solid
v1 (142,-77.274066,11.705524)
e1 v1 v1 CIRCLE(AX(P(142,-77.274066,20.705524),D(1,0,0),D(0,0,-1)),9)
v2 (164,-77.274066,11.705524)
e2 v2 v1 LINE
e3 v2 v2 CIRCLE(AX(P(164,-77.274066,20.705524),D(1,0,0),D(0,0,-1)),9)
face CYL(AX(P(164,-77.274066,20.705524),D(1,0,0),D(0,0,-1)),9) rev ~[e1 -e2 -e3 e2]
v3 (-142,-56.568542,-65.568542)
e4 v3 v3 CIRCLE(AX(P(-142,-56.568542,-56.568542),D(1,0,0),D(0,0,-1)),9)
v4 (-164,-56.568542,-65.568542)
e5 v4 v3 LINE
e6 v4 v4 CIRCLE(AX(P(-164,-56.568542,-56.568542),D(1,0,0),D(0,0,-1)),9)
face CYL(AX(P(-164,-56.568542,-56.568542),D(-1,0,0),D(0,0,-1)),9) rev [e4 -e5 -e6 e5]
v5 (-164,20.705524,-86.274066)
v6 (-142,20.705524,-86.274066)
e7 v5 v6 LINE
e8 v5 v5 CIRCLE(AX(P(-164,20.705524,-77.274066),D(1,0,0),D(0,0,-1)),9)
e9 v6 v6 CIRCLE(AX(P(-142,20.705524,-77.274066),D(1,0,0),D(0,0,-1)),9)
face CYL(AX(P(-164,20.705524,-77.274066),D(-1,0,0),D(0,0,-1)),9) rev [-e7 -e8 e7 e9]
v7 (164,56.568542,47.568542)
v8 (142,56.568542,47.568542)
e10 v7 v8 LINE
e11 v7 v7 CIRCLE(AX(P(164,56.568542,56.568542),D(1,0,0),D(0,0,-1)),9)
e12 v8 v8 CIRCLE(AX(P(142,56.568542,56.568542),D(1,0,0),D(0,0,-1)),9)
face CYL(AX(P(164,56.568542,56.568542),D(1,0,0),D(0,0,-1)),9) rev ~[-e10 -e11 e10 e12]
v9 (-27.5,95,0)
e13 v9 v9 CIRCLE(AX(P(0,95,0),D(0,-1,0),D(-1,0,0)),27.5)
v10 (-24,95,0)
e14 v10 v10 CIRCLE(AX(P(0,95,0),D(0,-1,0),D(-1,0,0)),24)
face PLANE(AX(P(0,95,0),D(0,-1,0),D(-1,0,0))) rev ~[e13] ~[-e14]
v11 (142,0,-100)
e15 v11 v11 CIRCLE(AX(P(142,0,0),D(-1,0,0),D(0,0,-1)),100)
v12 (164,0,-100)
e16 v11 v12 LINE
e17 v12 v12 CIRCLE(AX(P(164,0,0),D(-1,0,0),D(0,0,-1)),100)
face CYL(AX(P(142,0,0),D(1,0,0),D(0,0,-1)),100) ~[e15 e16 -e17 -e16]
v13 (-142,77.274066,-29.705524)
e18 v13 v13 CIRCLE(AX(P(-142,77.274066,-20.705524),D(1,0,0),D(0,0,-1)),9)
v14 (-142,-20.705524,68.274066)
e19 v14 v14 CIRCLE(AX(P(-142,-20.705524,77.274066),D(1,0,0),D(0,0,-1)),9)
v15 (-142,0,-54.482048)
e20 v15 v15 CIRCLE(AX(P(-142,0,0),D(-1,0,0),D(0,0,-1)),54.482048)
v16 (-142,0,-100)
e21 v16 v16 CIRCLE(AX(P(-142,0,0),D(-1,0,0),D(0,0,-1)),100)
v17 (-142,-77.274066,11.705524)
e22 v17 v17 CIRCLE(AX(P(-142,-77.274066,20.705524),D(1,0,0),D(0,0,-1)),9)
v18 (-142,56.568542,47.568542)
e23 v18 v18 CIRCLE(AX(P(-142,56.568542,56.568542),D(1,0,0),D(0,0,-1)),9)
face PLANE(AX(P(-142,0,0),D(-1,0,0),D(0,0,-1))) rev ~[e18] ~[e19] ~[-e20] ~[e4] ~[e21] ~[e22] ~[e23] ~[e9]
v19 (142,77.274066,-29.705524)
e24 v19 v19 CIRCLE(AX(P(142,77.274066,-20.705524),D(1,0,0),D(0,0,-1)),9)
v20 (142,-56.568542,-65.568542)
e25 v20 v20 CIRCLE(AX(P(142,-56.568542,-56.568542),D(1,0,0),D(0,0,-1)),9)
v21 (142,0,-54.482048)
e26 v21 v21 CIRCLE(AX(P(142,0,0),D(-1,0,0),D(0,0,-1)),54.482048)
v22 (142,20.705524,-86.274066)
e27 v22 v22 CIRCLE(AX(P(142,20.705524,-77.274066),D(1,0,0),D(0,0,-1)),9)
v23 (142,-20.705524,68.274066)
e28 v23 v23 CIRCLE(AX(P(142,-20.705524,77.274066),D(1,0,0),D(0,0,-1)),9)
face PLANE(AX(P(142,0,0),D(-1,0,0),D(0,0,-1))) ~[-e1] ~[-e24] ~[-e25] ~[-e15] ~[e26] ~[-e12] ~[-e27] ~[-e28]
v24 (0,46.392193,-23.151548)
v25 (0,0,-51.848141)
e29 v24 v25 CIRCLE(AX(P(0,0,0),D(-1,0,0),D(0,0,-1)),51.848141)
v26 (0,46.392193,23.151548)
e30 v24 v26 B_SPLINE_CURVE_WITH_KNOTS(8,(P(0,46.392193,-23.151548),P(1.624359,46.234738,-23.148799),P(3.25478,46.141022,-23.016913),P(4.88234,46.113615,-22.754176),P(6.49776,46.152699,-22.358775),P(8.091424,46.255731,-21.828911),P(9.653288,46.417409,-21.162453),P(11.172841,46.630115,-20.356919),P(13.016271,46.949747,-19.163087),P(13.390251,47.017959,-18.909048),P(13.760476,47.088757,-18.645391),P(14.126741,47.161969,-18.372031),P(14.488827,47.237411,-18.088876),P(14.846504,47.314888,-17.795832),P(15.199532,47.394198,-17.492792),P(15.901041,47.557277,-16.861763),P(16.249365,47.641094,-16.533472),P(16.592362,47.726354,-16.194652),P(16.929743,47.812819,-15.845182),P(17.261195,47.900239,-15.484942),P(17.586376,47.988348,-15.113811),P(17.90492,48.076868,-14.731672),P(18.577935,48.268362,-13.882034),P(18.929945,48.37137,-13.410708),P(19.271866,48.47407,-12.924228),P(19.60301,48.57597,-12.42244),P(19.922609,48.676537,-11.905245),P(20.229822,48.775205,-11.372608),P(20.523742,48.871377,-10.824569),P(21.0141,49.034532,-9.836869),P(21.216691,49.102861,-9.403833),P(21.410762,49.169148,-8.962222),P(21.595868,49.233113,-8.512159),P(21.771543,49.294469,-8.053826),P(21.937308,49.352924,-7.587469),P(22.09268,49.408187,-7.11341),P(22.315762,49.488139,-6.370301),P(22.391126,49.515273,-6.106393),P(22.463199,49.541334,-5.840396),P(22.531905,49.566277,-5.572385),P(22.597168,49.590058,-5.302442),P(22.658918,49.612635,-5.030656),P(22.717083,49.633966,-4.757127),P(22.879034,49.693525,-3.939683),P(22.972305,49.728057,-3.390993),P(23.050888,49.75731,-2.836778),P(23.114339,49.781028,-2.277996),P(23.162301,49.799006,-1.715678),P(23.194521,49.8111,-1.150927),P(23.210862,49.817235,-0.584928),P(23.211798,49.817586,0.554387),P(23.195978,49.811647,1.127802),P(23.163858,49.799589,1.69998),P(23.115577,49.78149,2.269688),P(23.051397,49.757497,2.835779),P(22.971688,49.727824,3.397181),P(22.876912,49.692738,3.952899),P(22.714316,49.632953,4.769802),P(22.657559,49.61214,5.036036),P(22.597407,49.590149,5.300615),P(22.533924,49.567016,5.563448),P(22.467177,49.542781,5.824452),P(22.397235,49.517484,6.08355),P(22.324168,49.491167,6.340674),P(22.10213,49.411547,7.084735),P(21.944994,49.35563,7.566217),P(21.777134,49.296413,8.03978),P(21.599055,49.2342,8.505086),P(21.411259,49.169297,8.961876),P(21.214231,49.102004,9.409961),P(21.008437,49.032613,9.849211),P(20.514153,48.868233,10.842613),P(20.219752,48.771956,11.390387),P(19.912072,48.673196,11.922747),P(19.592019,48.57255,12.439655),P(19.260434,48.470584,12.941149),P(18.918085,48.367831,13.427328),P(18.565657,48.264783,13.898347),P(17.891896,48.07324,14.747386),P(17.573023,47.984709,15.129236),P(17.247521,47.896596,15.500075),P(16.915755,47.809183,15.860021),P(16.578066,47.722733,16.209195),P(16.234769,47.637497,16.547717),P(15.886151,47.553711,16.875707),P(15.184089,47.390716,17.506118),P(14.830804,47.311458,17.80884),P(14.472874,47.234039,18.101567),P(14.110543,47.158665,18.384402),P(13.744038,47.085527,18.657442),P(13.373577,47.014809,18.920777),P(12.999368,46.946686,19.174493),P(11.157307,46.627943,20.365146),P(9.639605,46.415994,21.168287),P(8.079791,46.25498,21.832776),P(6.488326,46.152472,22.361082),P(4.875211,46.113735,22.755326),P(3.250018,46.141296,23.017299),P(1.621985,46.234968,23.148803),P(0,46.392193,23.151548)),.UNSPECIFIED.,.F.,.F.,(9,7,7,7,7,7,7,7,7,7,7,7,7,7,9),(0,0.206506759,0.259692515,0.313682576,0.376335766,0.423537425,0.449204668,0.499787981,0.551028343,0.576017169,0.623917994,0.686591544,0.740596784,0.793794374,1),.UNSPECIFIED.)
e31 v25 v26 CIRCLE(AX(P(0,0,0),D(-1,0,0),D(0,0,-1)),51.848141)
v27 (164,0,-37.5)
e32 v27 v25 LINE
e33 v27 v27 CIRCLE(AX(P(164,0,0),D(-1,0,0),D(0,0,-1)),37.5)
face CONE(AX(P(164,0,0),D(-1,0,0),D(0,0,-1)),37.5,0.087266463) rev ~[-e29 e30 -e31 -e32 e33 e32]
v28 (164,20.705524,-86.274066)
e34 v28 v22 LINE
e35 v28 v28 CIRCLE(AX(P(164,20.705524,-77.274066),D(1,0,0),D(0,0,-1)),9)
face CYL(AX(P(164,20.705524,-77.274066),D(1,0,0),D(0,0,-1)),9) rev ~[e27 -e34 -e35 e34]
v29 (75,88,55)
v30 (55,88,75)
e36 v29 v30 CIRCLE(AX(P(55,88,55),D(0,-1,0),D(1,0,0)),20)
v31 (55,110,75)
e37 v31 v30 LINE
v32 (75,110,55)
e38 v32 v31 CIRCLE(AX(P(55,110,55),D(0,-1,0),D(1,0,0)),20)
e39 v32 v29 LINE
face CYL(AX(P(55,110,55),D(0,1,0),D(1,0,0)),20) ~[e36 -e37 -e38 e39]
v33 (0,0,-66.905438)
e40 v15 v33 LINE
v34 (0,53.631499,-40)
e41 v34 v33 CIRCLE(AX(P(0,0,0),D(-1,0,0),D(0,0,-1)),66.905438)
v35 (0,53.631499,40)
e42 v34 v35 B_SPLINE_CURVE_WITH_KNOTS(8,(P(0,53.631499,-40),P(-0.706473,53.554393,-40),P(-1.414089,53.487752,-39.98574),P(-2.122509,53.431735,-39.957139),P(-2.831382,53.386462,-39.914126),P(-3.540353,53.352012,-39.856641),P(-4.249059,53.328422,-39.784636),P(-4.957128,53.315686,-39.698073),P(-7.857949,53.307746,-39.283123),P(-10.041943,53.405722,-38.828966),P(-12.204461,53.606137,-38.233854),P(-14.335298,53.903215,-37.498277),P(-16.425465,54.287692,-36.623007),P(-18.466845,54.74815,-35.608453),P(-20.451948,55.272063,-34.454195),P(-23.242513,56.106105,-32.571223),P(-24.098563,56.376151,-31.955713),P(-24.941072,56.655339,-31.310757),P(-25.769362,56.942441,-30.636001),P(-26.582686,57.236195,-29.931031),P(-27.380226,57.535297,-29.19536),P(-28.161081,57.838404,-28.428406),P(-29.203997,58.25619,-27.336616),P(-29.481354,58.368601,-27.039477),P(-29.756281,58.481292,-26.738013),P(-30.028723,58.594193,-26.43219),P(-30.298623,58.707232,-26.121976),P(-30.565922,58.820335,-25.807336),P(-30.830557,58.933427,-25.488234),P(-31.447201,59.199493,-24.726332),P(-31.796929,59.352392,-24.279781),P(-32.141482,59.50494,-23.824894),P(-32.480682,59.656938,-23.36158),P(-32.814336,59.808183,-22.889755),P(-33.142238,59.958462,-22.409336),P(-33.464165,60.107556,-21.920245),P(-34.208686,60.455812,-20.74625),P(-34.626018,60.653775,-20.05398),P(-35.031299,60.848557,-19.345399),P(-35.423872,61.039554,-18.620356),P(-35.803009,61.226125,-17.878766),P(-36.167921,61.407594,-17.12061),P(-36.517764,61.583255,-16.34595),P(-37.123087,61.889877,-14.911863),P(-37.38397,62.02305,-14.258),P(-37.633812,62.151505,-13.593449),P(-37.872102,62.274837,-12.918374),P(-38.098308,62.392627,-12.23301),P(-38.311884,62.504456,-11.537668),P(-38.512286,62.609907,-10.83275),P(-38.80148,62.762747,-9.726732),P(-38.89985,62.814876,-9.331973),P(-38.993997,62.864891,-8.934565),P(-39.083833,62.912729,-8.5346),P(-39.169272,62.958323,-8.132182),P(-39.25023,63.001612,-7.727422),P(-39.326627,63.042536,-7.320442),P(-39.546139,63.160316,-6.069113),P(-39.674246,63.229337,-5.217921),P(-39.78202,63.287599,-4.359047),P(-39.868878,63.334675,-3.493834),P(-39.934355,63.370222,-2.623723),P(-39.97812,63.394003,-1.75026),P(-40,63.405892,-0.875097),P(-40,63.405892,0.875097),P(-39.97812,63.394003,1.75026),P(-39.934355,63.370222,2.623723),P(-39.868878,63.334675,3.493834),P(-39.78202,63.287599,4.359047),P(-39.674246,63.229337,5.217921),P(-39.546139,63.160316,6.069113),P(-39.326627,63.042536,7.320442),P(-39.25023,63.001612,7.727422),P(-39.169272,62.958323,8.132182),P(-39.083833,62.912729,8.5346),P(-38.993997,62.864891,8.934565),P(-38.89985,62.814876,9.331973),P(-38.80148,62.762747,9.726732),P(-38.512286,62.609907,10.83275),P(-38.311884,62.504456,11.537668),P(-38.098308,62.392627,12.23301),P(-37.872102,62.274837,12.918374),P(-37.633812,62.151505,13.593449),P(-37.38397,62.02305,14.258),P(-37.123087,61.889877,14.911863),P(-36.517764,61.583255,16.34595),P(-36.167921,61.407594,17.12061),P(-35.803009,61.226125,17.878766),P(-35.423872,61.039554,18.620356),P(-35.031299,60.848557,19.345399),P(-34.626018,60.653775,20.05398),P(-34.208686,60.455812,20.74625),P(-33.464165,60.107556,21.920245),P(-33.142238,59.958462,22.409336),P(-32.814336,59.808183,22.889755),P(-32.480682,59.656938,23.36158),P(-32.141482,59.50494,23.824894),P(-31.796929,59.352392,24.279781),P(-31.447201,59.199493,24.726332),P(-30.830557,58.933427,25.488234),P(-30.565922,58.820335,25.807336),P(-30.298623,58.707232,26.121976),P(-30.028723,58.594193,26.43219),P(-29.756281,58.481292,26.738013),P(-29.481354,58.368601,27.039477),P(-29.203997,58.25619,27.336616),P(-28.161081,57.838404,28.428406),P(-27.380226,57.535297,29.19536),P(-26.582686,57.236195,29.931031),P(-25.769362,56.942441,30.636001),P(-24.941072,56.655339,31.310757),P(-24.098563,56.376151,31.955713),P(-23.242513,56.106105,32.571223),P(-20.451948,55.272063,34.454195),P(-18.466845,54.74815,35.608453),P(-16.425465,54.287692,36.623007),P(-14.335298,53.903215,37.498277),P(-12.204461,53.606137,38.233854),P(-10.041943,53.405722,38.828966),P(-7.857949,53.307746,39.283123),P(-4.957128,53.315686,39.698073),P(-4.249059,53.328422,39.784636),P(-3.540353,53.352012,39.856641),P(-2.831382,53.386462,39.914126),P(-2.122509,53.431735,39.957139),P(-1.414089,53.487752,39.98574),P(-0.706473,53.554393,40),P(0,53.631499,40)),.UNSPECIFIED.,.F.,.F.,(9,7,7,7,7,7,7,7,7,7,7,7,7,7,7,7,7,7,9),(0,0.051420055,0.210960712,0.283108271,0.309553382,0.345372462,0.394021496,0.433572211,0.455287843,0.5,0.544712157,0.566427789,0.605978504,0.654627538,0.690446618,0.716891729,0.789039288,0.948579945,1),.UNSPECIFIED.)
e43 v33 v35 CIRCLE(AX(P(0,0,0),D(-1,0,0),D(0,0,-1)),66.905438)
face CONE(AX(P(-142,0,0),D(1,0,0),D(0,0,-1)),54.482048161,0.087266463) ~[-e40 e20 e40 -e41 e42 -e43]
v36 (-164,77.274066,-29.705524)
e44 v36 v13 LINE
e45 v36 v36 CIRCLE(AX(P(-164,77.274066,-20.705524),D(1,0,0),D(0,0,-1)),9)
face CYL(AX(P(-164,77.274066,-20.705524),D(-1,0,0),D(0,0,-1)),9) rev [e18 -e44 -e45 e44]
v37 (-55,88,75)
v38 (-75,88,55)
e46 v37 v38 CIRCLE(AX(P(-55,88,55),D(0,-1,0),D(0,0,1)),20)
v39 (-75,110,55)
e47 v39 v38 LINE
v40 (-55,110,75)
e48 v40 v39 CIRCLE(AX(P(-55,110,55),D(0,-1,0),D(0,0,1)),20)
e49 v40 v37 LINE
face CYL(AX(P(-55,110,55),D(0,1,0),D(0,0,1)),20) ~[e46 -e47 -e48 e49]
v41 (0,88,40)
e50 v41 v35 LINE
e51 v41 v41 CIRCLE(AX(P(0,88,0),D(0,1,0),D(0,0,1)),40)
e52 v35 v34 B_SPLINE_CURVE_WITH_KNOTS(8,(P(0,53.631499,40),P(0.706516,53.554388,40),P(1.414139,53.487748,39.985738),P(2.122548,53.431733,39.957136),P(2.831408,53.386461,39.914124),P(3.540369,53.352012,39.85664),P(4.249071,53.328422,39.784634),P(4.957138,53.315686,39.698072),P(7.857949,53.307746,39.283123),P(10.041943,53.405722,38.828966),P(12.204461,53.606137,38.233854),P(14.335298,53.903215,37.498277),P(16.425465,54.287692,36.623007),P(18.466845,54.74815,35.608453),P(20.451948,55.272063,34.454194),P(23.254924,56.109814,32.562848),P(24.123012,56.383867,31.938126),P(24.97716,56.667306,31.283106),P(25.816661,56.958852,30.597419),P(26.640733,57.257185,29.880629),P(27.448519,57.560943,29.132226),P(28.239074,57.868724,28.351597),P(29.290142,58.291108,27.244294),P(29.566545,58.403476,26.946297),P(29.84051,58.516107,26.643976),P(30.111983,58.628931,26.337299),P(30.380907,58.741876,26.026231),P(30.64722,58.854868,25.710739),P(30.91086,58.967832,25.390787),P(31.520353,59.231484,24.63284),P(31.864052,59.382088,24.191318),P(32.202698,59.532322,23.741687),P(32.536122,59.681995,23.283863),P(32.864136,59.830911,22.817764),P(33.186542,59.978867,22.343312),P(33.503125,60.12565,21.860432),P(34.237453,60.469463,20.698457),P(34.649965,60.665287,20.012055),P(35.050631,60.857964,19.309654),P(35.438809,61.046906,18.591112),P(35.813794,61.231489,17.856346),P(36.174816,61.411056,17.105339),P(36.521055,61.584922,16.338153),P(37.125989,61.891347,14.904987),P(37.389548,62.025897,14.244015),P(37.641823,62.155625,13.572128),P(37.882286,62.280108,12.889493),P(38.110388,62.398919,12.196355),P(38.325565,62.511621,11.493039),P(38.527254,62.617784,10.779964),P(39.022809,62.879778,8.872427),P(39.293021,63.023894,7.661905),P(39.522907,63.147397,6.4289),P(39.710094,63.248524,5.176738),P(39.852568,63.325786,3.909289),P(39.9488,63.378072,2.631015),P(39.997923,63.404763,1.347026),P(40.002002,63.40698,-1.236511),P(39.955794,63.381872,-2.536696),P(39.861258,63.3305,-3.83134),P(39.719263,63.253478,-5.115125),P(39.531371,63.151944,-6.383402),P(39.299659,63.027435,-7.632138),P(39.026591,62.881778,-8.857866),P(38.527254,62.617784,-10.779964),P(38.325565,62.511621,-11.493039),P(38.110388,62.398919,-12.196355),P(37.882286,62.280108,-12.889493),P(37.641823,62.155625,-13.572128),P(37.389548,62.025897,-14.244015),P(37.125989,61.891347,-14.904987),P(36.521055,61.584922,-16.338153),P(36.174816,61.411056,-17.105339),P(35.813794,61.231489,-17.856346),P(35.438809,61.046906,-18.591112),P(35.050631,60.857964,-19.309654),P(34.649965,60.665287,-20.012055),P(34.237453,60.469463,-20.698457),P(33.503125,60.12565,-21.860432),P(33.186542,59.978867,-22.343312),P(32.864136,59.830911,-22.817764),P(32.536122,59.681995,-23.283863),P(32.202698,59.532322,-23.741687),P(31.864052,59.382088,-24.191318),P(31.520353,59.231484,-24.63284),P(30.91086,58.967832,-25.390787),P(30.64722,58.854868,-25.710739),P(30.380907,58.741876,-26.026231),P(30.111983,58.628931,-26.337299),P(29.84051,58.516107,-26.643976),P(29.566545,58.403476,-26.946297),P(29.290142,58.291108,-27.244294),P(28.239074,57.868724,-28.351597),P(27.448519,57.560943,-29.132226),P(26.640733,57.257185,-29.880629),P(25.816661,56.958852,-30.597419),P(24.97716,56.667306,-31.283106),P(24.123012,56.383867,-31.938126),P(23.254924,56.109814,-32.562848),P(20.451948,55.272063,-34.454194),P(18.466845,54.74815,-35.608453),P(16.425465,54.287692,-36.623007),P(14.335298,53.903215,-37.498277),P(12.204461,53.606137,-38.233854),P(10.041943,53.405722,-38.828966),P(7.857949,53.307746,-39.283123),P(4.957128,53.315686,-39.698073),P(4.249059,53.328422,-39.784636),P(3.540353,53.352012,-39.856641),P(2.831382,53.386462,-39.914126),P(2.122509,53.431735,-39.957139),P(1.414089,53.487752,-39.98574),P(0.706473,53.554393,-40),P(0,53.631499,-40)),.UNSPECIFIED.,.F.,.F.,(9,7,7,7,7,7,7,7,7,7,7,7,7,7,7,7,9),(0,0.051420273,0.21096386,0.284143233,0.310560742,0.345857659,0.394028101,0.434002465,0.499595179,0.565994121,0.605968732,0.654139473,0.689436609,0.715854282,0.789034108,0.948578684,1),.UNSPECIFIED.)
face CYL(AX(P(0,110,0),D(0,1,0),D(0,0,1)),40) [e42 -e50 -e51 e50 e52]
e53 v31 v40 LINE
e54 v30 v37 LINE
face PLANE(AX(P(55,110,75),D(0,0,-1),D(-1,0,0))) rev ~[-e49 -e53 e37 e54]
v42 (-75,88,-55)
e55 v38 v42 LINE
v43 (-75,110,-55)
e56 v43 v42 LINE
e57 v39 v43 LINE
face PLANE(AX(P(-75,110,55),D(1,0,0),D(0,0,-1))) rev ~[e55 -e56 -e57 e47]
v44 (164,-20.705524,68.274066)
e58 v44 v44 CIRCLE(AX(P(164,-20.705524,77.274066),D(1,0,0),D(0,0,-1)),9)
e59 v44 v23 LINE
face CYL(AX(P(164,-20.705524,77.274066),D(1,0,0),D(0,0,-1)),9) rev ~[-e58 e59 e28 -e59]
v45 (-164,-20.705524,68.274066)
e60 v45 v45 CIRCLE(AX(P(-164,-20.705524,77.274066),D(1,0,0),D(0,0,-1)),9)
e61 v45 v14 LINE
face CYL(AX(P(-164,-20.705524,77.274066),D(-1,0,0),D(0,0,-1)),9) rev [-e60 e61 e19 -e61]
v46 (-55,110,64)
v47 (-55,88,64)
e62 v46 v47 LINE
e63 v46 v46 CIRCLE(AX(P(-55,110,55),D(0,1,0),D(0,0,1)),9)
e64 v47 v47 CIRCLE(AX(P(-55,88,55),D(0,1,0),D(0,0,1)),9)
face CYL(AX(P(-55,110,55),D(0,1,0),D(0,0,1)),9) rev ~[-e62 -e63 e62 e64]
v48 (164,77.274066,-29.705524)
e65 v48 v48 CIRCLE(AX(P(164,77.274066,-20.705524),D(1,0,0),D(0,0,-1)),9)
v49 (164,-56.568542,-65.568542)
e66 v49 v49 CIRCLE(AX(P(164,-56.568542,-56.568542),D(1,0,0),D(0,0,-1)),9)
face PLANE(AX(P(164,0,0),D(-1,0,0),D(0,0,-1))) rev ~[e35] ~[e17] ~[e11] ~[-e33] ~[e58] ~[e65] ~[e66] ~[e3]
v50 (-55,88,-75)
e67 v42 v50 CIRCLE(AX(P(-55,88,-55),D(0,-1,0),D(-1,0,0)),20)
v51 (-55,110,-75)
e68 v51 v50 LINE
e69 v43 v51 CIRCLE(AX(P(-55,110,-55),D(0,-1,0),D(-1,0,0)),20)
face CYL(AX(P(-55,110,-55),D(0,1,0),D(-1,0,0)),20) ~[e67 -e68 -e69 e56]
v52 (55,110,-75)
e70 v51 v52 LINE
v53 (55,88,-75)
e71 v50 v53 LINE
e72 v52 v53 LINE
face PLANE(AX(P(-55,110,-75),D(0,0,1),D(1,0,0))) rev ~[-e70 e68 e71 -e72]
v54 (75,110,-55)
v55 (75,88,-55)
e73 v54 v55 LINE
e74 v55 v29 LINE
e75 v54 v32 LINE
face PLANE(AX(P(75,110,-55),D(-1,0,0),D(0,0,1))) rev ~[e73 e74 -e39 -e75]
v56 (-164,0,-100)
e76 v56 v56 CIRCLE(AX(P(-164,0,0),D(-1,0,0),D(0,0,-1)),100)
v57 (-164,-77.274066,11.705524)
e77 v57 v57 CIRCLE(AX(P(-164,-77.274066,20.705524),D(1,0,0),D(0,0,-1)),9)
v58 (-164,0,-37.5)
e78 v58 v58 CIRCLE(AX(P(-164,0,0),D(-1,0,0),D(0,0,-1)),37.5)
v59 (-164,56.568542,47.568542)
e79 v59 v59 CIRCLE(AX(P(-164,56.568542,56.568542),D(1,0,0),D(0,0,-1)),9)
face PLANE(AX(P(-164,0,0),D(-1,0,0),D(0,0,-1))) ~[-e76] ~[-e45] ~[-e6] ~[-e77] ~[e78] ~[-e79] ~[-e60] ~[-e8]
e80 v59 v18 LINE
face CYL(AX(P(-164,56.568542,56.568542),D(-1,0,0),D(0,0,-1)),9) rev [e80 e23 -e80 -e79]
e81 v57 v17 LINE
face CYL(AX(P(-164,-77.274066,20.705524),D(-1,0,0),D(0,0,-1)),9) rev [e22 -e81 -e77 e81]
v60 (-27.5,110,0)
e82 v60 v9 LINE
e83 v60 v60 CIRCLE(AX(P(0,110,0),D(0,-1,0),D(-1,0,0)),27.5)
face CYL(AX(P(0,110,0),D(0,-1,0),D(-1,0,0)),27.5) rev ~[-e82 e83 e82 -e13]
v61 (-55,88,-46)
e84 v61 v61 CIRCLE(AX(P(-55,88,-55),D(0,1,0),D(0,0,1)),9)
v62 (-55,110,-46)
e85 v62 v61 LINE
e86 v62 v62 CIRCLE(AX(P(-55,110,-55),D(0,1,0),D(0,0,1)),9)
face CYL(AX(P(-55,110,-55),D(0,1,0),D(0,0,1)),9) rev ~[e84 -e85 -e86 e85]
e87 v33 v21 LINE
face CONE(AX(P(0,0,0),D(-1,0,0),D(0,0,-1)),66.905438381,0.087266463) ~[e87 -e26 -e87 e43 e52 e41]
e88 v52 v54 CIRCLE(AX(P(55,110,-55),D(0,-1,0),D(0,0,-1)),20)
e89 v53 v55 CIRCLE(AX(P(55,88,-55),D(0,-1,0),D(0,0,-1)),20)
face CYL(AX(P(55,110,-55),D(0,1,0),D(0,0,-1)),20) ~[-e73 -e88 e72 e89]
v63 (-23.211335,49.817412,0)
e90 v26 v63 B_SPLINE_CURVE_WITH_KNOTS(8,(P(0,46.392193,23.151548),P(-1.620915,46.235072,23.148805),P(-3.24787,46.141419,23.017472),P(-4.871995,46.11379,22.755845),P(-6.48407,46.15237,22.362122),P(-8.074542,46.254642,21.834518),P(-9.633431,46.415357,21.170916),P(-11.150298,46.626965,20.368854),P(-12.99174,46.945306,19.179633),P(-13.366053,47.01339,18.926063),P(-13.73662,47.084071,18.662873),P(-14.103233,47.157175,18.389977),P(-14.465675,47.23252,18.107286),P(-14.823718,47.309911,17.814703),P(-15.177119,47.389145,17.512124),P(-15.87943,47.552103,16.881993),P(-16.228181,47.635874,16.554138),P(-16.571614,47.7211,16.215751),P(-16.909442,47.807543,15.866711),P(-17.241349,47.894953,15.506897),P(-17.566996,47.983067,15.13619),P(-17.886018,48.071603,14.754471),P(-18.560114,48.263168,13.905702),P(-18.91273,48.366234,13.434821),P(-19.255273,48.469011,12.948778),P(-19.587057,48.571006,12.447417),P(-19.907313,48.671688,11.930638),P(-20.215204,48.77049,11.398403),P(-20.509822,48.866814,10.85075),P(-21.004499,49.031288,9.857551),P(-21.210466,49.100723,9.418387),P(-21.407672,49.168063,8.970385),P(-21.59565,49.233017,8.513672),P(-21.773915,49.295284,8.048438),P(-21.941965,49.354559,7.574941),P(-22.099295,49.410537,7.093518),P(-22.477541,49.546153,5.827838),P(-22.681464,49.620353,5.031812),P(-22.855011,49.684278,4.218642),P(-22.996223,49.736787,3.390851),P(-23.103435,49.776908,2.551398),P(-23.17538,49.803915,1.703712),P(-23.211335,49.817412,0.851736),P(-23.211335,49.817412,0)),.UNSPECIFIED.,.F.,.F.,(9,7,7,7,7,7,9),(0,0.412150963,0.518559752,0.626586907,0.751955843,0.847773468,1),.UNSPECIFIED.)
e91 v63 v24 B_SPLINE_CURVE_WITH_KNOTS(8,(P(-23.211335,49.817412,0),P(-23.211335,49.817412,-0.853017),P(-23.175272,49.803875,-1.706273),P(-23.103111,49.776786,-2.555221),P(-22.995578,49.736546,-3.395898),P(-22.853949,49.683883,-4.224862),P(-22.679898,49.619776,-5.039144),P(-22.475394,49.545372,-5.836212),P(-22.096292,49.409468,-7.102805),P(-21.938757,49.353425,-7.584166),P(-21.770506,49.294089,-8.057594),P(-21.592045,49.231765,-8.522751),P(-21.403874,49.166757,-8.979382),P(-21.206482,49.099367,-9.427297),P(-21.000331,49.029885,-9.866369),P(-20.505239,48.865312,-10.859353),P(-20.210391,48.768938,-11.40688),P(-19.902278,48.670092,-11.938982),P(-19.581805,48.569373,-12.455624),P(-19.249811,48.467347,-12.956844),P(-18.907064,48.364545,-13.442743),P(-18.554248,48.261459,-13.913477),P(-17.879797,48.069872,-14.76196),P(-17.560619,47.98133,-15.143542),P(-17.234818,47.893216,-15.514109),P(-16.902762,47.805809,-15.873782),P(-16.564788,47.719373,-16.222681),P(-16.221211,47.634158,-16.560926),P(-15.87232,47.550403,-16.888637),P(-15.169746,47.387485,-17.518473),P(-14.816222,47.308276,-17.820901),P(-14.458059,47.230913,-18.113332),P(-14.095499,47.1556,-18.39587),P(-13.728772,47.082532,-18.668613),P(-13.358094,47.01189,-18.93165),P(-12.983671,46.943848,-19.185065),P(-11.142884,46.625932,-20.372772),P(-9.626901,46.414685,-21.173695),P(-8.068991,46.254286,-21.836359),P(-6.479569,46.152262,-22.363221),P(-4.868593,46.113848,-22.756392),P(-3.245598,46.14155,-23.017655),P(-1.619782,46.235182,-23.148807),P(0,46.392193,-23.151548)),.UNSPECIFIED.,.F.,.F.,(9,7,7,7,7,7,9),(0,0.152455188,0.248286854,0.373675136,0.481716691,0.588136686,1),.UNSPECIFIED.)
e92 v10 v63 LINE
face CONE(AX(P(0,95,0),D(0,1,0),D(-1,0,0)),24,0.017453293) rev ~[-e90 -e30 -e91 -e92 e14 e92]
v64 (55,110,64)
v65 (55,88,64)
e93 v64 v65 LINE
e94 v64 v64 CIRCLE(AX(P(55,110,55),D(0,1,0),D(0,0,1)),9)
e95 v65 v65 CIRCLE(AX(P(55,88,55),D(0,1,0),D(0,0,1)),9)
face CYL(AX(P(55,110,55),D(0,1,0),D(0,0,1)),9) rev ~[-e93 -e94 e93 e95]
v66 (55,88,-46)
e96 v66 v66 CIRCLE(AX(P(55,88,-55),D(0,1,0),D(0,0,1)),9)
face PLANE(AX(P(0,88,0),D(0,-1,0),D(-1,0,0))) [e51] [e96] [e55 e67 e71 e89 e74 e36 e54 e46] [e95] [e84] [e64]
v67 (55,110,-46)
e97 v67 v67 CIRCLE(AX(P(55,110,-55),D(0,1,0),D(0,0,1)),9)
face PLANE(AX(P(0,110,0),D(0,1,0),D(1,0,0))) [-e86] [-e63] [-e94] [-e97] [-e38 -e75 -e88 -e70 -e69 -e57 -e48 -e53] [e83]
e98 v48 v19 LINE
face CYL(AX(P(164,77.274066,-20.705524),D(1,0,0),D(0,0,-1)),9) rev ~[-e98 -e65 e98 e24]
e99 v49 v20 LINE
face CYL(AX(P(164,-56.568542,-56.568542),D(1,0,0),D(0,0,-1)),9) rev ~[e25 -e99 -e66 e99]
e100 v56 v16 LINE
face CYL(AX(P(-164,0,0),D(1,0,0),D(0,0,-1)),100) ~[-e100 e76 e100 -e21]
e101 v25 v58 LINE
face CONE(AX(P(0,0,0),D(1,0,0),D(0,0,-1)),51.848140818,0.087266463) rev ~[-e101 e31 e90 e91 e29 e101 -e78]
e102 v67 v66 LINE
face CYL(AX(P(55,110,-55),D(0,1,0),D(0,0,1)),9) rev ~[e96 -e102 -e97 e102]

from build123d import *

# Parameters (mm, degrees)
SKETCH2_R           = 40
SKETCH2_R_2         = 9
BOSS_EXTRUDE1_DEPTH = 22
BOSS_EXTRUDE6_REACH = 286.598
SKETCH2_8_R         = 40
SKETCH2_8_R_2       = 27.5
SKETCH2_8_R_3       = 24
CUT_EXTRUDE5_REACH  = 362.117
SKETCH8_R           = 9


with BuildPart() as part:
    # Sketch1 → Revolve1 (revolve)
    with BuildSketch(Plane.XY, mode=Mode.PRIVATE) as revolve1_sk:
        Polygon((-164, -37.5), (-164, -100), (-142, -100), (-142, -54.482048161), (0, -66.905438381), (142, -54.482048161), (142, -100), (164, -100), (164, -37.5), (0, -51.848140818), align=None)
    revolve(revolve1_sk.sketch.rotate(Axis((0, 0, 0), (-1, 0, 0)), 270), axis=Axis((0, 0, 0), (-1, 0, 0)))

    # Sketch2<8> → Boss-Extrude6 (add, up to next)
    with BuildSketch(Plane(origin=(0, 110, 0), x_dir=(1, 0, 0), z_dir=(0, 1, 0)), mode=Mode.PRIVATE) as boss_extrude6_sk1:
        with Locations(Location((0, 0, 0), (0, 0, 270))):
            Circle(SKETCH2_8_R)
        Circle(SKETCH2_8_R_2, mode=Mode.SUBTRACT)
    boss_extrude6_tool1 = extrude(boss_extrude6_sk1.sketch, amount=-BOSS_EXTRUDE6_REACH, mode=Mode.PRIVATE) - part.part
    # Sketch2<8> → Boss-Extrude6 (add, up to next)
    with BuildSketch(Plane(origin=(0, 110, 0), x_dir=(1, 0, 0), z_dir=(0, 1, 0)), mode=Mode.PRIVATE) as boss_extrude6_sk2:
        Circle(SKETCH2_8_R_2)
        Circle(SKETCH2_8_R_3, mode=Mode.SUBTRACT)
    boss_extrude6_tool2 = extrude(boss_extrude6_sk2.sketch, amount=-BOSS_EXTRUDE6_REACH, mode=Mode.PRIVATE) - part.part
    # Sketch2<8> → Boss-Extrude6 (add, up to next)
    with BuildSketch(Plane(origin=(0, 110, 0), x_dir=(1, 0, 0), z_dir=(0, 1, 0)), mode=Mode.PRIVATE) as boss_extrude6_sk3:
        Circle(SKETCH2_8_R_3)
    boss_extrude6_tool3 = extrude(boss_extrude6_sk3.sketch, amount=-BOSS_EXTRUDE6_REACH, mode=Mode.PRIVATE) - part.part


with BuildPart() as body_2:
    # Sketch2 → Boss-Extrude1 (new body)
    with BuildSketch(Plane(origin=(0, 110, 0), x_dir=(1, 0, 0), z_dir=(0, 1, 0))):
        with BuildLine():
            Line((-55, 75), (55, 75))
            ThreePointArc((55, 75), (69.142135624, 69.142135624), (75, 55))
            Line((75, 55), (75, -55))
            ThreePointArc((75, -55), (69.142135624, -69.142135624), (55, -75))
            Line((55, -75), (-55, -75))
            ThreePointArc((-55, -75), (-69.142135624, -69.142135624), (-75, -55))
            Line((-75, -55), (-75, 55))
            ThreePointArc((-75, 55), (-69.142135624, 69.142135624), (-55, 75))
        make_face()
        with Locations(Location((0, 0, 0), (0, 0, 270))):
            Circle(SKETCH2_R, mode=Mode.SUBTRACT)
        with Locations(Location((55, -55, 0), (0, 0, 270))):
            Circle(SKETCH2_R_2, mode=Mode.SUBTRACT)
        with Locations(Location((-55, -55, 0), (0, 0, 270))):
            Circle(SKETCH2_R_2, mode=Mode.SUBTRACT)
        with Locations(Location((55, 55, 0), (0, 0, 270))):
            Circle(SKETCH2_R_2, mode=Mode.SUBTRACT)
        with Locations(Location((-55, 55, 0), (0, 0, 270))):
            Circle(SKETCH2_R_2, mode=Mode.SUBTRACT)
    extrude(amount=-BOSS_EXTRUDE1_DEPTH)


with BuildPart() as part_1:
    add(part.part)

    add(body_2.part)  # Boss-Extrude6 merges body 2
    add(boss_extrude6_tool1.solids().sort_by_distance((0, 110, -38.868629))[0])
    add(boss_extrude6_tool2.solids().sort_by_distance((-26.722183, 110, 0))[0])
    add(boss_extrude6_tool3.solids().sort_by_distance((0, 110, 0))[0])

    # Sketch7 → Cut-Revolve1 (revolve, cut)
    with BuildSketch(Plane.XY, mode=Mode.PRIVATE) as cut_revolve1_sk:
        Polygon((0, 19.40041476), (0, 110), (27.5, 110), (27.5, 95), (24, 95), (22.680404331, 19.40041476), align=None)
    revolve(cut_revolve1_sk.sketch.rotate(Axis((0, 0, 0), (0, -1, 0)), 180), axis=Axis((0, 0, 0), (0, -1, 0)), mode=Mode.SUBTRACT)

    # Sketch8 → Cut-Extrude5 (cut, up to next)
    with BuildSketch(Plane(origin=(164, 0, 0), x_dir=(0, 0, -1), z_dir=(1, 0, 0)), mode=Mode.PRIVATE) as cut_extrude5_sk1:
        with Locations((-77.274066103, -20.705523608)):
            Circle(SKETCH8_R)
    cut_extrude5_tool1 = extrude(cut_extrude5_sk1.sketch, amount=-CUT_EXTRUDE5_REACH, mode=Mode.PRIVATE) & part_1.part
    # Sketch8 → Cut-Extrude5 (cut, up to next)
    with BuildSketch(Plane(origin=(164, 0, 0), x_dir=(0, 0, -1), z_dir=(1, 0, 0)), mode=Mode.PRIVATE) as cut_extrude5_sk2:
        with Locations((-56.568542495, 56.568542495)):
            Circle(SKETCH8_R)
    cut_extrude5_tool2 = extrude(cut_extrude5_sk2.sketch, amount=-CUT_EXTRUDE5_REACH, mode=Mode.PRIVATE) & part_1.part
    # Sketch8 → Cut-Extrude5 (cut, up to next)
    with BuildSketch(Plane(origin=(164, 0, 0), x_dir=(0, 0, -1), z_dir=(1, 0, 0)), mode=Mode.PRIVATE) as cut_extrude5_sk3:
        with Locations((20.705523608, 77.274066103)):
            Circle(SKETCH8_R)
    cut_extrude5_tool3 = extrude(cut_extrude5_sk3.sketch, amount=-CUT_EXTRUDE5_REACH, mode=Mode.PRIVATE) & part_1.part
    # Sketch8 → Cut-Extrude5 (cut, up to next)
    with BuildSketch(Plane(origin=(164, 0, 0), x_dir=(0, 0, -1), z_dir=(1, 0, 0)), mode=Mode.PRIVATE) as cut_extrude5_sk4:
        with Locations((77.274066103, 20.705523608)):
            Circle(SKETCH8_R)
    cut_extrude5_tool4 = extrude(cut_extrude5_sk4.sketch, amount=-CUT_EXTRUDE5_REACH, mode=Mode.PRIVATE) & part_1.part
    # Sketch8 → Cut-Extrude5 (cut, up to next)
    with BuildSketch(Plane(origin=(164, 0, 0), x_dir=(0, 0, -1), z_dir=(1, 0, 0)), mode=Mode.PRIVATE) as cut_extrude5_sk5:
        with Locations((56.568542495, -56.568542495)):
            Circle(SKETCH8_R)
    cut_extrude5_tool5 = extrude(cut_extrude5_sk5.sketch, amount=-CUT_EXTRUDE5_REACH, mode=Mode.PRIVATE) & part_1.part
    # Sketch8 → Cut-Extrude5 (cut, up to next)
    with BuildSketch(Plane(origin=(164, 0, 0), x_dir=(0, 0, -1), z_dir=(1, 0, 0)), mode=Mode.PRIVATE) as cut_extrude5_sk6:
        with Locations((-20.705523608, -77.274066103)):
            Circle(SKETCH8_R)
    cut_extrude5_tool6 = extrude(cut_extrude5_sk6.sketch, amount=-CUT_EXTRUDE5_REACH, mode=Mode.PRIVATE) & part_1.part
    cut_extrude5_1 = cut_extrude5_tool1.solids().sort_by_distance((164, -20.705524, 77.274066))[0]
    add(cut_extrude5_1, mode=Mode.SUBTRACT)
    cut_extrude5_2 = cut_extrude5_tool2.solids().sort_by_distance((164, 56.568542, 56.568542))[0]
    add(cut_extrude5_2, mode=Mode.SUBTRACT)
    cut_extrude5_3 = cut_extrude5_tool3.solids().sort_by_distance((164, 77.274066, -20.705524))[0]
    add(cut_extrude5_3, mode=Mode.SUBTRACT)
    cut_extrude5_4 = cut_extrude5_tool4.solids().sort_by_distance((164, 20.705524, -77.274066))[0]
    add(cut_extrude5_4, mode=Mode.SUBTRACT)
    cut_extrude5_5 = cut_extrude5_tool5.solids().sort_by_distance((164, -56.568542, -56.568542))[0]
    add(cut_extrude5_5, mode=Mode.SUBTRACT)
    cut_extrude5_6 = cut_extrude5_tool6.solids().sort_by_distance((164, -77.274066, 20.705524))[0]
    add(cut_extrude5_6, mode=Mode.SUBTRACT)
    cut_extrude5 = cut_extrude5_1 + cut_extrude5_2 + cut_extrude5_3 + cut_extrude5_4 + cut_extrude5_5 + cut_extrude5_6  # Cut-Extrude5 as one shape, for the pattern or mirror that repeats it

    # Mirror1: Cut-Extrude5 across plane
    add(cut_extrude5.mirror(Plane(origin=(0, 0, 0), x_dir=(0, 0, 1), z_dir=(1, 0, 0))), mode=Mode.SUBTRACT)


solid = part_1.part
